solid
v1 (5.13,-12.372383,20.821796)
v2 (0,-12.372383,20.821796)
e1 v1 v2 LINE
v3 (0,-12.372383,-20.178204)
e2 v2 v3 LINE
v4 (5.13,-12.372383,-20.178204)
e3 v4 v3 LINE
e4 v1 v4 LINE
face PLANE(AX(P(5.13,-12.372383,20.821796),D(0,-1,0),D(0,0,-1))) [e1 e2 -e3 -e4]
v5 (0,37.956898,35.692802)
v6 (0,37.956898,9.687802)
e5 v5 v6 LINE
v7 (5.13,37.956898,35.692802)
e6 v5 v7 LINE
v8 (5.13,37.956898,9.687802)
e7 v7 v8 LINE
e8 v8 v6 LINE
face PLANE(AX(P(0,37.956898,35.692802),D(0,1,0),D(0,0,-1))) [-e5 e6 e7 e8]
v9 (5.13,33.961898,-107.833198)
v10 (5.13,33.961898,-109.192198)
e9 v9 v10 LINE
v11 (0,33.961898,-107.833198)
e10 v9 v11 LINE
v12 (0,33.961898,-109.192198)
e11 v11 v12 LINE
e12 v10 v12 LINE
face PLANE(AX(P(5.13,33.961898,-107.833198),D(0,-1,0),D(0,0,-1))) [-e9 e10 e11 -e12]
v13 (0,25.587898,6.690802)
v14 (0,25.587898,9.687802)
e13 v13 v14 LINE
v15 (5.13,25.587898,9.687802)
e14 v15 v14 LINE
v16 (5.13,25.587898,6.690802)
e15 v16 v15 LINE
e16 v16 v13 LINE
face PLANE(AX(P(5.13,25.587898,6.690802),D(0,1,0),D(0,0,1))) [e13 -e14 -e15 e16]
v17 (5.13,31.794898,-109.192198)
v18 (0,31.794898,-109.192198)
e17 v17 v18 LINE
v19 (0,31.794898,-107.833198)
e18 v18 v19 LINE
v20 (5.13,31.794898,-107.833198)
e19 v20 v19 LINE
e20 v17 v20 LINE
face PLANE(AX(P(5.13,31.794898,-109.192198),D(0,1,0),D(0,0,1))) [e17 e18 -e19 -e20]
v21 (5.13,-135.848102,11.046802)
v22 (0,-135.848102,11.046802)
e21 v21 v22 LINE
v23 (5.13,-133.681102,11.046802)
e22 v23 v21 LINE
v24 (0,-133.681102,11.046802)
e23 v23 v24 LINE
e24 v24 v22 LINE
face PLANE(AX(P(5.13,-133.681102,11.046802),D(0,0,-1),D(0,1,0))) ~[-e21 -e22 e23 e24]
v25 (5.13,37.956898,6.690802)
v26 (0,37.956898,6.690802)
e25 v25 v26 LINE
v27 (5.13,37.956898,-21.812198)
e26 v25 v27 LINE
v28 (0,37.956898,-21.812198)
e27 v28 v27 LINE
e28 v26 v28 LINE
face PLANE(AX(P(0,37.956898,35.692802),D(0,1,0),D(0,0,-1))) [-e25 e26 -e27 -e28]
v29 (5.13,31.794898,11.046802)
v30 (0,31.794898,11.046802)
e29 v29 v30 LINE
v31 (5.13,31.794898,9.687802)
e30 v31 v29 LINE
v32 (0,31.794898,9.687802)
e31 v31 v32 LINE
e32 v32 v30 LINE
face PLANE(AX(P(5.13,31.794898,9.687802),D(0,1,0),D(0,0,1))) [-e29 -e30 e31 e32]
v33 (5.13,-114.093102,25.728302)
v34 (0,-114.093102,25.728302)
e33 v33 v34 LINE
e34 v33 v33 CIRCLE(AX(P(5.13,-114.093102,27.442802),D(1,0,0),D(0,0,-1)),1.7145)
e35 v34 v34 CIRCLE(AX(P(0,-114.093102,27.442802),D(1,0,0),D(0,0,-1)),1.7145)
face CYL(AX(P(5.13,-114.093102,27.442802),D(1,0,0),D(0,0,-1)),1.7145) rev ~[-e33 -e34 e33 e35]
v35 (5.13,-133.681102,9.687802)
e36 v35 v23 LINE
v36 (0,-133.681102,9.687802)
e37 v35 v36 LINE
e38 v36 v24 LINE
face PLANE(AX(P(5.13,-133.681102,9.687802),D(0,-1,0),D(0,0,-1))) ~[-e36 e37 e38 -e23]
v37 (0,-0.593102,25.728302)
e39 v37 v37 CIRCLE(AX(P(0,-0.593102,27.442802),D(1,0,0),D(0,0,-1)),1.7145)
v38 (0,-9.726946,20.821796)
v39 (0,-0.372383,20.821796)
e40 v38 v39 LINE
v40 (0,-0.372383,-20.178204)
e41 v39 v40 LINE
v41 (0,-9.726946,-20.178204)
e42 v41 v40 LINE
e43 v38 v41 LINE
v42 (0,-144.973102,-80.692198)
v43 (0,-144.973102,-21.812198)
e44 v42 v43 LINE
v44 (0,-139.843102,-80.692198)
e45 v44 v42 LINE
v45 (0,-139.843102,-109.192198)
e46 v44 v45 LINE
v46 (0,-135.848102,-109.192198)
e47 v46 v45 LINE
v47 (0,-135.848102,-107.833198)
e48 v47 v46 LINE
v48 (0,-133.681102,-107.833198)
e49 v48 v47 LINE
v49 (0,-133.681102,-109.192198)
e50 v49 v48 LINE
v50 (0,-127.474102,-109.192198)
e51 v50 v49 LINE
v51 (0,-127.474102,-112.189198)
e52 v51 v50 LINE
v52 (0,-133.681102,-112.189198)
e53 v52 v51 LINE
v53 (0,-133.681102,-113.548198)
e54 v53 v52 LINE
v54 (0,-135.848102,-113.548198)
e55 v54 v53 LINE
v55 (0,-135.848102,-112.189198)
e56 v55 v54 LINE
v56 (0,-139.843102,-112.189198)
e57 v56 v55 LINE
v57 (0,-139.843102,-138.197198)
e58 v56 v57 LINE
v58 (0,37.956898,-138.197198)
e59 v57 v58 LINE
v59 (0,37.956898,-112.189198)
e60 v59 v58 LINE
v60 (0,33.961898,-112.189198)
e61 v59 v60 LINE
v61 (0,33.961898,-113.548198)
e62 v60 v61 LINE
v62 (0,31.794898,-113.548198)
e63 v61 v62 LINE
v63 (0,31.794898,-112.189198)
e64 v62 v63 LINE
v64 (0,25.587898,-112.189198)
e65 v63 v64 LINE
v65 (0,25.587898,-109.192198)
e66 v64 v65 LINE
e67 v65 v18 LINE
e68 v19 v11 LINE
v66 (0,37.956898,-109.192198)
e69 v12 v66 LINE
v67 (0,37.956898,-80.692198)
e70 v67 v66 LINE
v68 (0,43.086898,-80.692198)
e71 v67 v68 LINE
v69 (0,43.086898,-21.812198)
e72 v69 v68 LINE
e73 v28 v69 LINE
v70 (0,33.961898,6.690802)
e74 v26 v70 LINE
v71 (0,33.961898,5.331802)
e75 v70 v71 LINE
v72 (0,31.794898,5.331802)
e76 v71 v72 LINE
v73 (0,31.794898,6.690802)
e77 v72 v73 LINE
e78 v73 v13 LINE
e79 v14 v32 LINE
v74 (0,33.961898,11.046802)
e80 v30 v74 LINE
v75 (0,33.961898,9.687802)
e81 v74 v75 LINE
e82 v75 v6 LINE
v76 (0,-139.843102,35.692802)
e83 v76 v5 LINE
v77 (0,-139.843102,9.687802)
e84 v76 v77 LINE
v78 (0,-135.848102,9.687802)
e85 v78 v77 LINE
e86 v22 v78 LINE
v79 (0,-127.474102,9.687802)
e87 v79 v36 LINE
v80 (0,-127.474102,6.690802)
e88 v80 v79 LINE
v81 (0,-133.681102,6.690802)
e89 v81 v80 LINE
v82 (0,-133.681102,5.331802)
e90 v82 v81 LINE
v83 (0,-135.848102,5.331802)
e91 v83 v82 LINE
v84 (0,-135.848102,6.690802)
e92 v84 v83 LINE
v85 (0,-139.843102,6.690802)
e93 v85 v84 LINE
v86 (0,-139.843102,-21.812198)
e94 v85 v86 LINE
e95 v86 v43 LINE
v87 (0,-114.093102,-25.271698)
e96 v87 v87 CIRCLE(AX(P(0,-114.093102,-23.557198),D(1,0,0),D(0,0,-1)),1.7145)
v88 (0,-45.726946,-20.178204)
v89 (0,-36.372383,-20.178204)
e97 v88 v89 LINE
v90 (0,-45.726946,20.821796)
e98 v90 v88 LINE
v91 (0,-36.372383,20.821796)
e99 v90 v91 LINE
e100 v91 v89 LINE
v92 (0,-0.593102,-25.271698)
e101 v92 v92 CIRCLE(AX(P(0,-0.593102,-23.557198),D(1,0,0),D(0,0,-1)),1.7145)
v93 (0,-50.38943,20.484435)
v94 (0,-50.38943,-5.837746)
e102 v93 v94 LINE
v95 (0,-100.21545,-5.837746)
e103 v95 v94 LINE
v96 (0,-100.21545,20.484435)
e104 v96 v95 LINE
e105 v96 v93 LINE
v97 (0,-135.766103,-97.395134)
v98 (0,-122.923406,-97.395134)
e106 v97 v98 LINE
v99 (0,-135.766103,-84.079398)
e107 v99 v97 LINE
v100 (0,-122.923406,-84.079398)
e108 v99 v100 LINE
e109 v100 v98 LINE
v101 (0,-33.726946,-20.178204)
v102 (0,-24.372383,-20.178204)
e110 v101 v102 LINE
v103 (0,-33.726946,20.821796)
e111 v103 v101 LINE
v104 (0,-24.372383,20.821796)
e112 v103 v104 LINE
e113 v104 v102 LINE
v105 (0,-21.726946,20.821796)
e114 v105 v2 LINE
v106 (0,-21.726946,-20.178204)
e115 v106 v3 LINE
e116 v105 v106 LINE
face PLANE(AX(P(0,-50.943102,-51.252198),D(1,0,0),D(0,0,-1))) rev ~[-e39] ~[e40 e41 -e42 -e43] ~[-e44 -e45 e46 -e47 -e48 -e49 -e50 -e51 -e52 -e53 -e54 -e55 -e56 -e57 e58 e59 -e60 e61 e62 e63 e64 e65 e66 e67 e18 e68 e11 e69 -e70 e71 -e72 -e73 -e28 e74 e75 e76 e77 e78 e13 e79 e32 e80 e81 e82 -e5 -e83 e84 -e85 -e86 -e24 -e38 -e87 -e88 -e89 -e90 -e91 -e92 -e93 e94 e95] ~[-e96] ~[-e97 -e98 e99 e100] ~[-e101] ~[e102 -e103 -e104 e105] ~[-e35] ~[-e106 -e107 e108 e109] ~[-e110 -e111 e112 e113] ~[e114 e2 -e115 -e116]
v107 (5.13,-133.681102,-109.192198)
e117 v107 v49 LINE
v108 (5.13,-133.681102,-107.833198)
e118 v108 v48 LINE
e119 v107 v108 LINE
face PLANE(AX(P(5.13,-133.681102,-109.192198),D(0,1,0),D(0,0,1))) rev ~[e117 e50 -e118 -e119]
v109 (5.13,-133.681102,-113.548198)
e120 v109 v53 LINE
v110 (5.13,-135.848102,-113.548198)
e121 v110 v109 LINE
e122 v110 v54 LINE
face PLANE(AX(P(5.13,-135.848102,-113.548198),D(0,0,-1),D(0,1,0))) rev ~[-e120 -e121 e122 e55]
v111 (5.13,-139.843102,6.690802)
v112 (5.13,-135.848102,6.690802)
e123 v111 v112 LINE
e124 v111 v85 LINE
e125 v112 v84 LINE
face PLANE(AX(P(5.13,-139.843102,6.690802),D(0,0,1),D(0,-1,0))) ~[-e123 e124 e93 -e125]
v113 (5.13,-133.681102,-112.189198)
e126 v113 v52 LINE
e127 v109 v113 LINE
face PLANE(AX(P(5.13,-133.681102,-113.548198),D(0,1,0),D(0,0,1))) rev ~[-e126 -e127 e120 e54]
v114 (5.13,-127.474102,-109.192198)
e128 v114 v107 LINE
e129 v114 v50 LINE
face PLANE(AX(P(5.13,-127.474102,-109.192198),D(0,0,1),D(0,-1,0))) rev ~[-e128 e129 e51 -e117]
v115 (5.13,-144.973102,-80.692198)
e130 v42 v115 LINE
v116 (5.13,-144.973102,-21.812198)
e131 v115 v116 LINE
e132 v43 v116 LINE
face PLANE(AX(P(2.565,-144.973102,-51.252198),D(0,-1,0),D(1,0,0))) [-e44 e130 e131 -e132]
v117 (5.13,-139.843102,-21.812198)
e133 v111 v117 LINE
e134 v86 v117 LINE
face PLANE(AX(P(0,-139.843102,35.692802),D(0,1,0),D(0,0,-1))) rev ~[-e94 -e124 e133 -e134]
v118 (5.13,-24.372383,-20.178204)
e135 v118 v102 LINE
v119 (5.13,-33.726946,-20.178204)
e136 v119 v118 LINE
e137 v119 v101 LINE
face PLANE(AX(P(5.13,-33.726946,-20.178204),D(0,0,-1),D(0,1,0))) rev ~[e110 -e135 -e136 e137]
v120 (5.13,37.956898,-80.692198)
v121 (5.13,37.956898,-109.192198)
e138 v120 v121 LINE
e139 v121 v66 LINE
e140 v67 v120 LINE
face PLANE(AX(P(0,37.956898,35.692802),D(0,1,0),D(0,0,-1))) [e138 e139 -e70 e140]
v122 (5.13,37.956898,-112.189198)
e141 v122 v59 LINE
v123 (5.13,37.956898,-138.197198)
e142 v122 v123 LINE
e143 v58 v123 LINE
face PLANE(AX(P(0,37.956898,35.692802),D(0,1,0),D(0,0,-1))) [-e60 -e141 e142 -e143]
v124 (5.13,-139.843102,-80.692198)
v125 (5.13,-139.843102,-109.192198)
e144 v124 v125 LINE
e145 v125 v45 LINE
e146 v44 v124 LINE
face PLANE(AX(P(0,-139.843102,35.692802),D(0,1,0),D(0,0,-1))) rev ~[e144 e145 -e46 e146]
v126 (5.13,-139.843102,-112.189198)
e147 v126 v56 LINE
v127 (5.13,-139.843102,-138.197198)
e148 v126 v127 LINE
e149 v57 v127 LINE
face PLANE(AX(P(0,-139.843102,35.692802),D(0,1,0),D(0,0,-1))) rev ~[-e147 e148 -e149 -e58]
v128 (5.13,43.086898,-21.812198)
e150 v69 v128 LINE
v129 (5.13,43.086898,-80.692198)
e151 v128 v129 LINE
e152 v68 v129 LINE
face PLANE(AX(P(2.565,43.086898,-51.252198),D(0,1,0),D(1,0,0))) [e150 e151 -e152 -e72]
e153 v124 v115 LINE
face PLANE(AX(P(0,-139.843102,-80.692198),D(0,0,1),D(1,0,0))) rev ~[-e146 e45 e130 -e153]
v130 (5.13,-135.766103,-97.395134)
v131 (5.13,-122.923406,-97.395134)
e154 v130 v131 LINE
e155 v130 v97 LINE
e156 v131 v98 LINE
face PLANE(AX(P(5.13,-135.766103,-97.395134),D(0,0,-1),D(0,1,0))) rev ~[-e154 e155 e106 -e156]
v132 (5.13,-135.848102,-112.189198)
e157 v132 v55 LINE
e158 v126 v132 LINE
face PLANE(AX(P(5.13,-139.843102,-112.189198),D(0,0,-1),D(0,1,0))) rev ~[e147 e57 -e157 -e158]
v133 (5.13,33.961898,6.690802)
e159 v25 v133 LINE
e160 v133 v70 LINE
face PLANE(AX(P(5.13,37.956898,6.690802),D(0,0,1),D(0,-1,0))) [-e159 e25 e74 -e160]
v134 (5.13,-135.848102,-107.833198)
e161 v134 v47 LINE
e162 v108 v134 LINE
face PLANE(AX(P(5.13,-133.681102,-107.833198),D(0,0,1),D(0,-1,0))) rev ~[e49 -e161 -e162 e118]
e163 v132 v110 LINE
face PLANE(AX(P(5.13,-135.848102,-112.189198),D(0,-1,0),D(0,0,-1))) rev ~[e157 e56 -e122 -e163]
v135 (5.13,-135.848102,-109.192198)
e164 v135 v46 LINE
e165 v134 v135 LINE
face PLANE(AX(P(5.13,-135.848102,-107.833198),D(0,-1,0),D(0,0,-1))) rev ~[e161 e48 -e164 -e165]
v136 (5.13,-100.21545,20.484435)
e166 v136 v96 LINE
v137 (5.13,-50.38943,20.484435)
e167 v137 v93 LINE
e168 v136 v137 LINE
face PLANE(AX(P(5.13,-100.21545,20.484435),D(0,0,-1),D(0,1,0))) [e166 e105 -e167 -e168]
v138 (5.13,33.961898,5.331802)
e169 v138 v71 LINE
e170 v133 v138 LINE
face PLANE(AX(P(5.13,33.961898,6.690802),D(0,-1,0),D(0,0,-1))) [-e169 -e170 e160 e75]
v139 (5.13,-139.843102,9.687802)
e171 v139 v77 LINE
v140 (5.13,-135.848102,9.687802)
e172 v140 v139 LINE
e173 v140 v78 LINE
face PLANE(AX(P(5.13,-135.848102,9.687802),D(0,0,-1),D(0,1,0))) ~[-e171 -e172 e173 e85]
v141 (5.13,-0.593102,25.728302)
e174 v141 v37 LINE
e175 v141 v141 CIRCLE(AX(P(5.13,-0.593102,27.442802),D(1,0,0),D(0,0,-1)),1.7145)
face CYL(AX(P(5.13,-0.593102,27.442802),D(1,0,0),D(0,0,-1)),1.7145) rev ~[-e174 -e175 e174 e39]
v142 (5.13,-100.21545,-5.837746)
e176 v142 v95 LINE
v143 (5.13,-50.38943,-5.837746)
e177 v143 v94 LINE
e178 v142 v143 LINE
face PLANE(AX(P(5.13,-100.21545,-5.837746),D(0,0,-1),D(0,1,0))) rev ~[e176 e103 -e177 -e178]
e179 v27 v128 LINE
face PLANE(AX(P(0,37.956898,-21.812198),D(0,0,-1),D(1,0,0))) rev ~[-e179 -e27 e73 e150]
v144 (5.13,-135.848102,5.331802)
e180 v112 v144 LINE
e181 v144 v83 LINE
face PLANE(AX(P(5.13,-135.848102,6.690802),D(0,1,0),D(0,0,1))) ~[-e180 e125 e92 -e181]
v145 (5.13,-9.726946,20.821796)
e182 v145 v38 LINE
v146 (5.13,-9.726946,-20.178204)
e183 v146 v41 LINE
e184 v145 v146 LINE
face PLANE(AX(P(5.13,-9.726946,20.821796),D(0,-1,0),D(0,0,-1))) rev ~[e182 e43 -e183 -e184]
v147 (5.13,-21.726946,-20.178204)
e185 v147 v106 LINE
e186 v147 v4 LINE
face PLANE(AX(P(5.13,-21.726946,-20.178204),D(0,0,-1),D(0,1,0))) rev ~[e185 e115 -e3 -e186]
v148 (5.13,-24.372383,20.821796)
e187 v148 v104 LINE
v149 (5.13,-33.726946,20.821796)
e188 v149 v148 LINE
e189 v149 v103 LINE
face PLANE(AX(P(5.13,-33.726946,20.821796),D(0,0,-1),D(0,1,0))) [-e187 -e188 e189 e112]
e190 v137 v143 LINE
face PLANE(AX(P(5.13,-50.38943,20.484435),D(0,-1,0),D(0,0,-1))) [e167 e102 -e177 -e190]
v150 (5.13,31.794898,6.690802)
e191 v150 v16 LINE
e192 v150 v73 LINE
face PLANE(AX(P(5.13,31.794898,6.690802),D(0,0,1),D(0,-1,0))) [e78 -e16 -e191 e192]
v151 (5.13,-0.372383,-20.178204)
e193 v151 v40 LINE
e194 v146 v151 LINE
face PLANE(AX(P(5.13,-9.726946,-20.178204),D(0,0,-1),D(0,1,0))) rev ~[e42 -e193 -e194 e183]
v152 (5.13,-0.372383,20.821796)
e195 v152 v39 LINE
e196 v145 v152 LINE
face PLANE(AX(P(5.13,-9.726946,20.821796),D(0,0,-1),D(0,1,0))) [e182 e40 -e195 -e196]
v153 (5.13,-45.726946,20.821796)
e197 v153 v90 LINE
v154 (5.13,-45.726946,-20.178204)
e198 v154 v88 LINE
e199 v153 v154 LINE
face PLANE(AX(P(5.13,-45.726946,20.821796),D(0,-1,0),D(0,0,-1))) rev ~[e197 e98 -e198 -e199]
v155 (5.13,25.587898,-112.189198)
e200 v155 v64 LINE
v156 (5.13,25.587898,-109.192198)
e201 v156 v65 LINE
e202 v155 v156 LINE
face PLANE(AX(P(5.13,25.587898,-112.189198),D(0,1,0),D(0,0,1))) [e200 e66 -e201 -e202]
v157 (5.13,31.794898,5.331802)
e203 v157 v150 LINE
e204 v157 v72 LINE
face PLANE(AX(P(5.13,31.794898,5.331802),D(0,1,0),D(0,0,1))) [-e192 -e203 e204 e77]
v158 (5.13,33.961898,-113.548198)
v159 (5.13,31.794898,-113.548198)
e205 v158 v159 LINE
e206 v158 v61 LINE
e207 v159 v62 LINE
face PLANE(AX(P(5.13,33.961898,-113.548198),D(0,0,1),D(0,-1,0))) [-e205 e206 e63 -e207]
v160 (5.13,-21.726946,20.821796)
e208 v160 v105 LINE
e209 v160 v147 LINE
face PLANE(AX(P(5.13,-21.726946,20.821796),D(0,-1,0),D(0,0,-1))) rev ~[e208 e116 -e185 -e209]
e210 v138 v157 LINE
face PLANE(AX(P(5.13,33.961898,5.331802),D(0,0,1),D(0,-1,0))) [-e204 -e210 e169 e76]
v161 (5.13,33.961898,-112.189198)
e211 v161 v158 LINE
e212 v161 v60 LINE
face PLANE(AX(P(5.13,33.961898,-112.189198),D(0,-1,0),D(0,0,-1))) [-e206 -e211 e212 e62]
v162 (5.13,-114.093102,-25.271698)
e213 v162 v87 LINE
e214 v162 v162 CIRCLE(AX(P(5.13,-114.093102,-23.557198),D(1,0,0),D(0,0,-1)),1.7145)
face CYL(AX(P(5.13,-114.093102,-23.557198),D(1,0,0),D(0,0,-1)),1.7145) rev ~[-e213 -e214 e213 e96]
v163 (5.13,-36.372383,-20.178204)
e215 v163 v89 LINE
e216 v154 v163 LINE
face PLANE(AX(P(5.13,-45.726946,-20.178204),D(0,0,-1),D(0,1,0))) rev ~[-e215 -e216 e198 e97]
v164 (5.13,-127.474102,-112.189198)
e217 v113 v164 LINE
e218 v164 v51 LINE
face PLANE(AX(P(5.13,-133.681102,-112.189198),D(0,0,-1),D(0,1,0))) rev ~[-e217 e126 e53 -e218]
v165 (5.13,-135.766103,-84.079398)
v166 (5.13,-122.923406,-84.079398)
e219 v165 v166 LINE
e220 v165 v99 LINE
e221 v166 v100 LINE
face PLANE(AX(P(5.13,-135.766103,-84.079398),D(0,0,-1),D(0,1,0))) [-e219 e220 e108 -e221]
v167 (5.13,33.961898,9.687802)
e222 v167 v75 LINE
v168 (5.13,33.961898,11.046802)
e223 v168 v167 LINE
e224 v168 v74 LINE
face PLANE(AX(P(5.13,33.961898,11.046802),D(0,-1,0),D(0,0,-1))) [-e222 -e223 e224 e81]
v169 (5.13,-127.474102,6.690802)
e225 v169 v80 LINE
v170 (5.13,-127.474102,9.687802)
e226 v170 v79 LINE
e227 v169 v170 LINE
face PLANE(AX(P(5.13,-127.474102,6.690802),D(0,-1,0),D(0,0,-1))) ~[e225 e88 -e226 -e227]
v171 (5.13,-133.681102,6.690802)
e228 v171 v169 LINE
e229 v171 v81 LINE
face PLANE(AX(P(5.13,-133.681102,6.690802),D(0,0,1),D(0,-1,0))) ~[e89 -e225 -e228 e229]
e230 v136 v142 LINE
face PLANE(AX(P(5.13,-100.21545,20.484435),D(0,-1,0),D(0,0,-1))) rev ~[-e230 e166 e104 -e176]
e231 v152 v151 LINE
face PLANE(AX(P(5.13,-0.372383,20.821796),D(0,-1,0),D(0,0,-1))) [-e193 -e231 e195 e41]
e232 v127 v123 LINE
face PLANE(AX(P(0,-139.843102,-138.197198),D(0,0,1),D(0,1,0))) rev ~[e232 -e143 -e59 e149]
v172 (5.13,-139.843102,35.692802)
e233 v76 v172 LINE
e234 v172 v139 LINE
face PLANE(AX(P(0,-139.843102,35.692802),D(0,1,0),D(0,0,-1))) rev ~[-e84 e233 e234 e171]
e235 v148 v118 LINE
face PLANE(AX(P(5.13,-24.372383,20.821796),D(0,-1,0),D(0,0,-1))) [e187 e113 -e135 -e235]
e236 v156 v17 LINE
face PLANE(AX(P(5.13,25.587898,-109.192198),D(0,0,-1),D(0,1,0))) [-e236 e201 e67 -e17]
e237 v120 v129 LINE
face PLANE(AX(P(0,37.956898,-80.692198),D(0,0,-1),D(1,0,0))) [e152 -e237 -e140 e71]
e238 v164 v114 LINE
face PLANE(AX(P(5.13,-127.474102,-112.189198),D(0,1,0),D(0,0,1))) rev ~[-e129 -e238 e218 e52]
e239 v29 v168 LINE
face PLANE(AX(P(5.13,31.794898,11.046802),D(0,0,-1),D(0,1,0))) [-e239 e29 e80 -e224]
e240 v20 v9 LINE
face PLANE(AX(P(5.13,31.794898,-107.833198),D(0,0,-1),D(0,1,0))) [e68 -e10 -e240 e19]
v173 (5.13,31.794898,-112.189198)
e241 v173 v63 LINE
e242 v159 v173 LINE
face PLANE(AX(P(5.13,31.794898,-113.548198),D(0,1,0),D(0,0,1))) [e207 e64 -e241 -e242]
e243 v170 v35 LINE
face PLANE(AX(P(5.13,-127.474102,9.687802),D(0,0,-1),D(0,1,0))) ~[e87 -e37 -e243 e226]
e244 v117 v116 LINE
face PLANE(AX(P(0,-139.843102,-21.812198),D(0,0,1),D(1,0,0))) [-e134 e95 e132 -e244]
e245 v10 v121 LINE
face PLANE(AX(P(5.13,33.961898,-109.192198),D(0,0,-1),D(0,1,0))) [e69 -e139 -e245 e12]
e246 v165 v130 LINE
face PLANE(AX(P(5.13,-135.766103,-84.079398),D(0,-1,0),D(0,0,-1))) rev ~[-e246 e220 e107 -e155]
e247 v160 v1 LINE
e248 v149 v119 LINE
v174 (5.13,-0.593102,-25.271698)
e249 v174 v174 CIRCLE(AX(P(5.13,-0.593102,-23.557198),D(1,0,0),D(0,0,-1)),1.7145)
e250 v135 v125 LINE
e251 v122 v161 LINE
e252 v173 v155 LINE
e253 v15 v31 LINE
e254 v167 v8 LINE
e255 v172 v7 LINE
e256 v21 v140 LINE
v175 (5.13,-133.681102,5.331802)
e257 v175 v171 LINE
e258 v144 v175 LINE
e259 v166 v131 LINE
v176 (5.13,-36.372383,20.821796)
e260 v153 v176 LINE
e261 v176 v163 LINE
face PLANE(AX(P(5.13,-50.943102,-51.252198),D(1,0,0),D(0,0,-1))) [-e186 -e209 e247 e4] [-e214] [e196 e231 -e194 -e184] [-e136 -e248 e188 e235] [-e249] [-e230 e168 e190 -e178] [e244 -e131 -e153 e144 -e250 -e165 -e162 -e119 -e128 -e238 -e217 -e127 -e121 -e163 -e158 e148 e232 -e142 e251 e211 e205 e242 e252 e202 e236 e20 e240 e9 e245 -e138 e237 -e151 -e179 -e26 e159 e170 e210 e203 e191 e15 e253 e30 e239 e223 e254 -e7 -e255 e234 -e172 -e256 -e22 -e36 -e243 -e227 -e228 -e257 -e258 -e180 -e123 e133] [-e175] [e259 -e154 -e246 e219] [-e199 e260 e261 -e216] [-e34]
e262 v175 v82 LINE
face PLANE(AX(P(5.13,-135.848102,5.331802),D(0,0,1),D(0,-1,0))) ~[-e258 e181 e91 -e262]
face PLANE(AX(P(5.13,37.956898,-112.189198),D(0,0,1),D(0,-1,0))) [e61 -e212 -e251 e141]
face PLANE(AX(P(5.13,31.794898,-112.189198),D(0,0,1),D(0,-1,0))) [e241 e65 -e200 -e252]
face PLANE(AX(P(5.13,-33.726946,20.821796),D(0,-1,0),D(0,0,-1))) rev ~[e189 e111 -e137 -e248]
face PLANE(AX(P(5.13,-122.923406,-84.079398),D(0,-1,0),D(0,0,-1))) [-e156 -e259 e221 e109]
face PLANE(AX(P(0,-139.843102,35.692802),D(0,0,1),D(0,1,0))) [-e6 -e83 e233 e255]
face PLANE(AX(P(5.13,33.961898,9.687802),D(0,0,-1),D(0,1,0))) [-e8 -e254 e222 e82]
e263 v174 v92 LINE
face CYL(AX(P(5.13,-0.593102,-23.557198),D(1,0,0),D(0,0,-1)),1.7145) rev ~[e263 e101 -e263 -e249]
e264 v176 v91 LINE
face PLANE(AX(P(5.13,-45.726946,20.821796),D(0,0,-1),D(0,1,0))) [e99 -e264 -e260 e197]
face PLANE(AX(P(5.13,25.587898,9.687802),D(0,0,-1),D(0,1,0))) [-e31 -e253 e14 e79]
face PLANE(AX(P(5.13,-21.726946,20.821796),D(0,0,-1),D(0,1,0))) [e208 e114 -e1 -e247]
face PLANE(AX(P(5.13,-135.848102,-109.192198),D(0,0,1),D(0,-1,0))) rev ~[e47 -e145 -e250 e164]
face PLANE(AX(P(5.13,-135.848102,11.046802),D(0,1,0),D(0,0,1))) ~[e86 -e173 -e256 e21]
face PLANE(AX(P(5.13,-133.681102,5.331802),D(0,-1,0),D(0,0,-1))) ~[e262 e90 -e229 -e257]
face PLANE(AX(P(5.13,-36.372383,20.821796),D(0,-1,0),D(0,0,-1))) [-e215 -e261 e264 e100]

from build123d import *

# Parameters (mm, degrees)
SKETCH1_W                  = 173.89
SKETCH1_H                  = 177.8
BOSS_EXTRUDE1_DEPTH        = 5.13
SKETCH6_W                  = 5.13
SKETCH6_H                  = 58.88
TEETH_DEPTH                = 5.13
T_SLOT_DEPTH               = 5.13
T_SLOT_PATTERN_COUNT       = 2
T_SLOT_PATTERN_PITCH       = 118.88
T_SLOT_BOTTOM_COPY_1_DEPTH = 5.13
SKETCH3_W                  = 26.322180797
SKETCH3_H                  = 49.826019937
POWER_PORT_DEPTH           = 5.13
POWER_SUPPLY_SCREWS_REACH  = 198.675
SKETCH7_R                  = 1.7145
SKETCH4_W                  = 41
SKETCH4_H                  = 9.354563129
FAN_VENT_DEPTH             = 5.13
LPATTERN3_COUNT            = 4
LPATTERN3_PITCH            = 12
SKETCH5_W                  = 13.315736025
SKETCH5_H                  = 12.842697729
USB_PORT_DEPTH             = 5.13
SKETCH11_W                 = 5.13
SKETCH11_H                 = 58.88
BOSS_EXTRUDE2_DEPTH        = 5.13
LPATTERN4_COUNT            = 2
LPATTERN4_PITCH            = 51
LPATTERN4_COUNT_DIR2       = 2
LPATTERN4_PITCH_DIR2       = 113.5


with BuildPart() as part:
    # Sketch1 → Boss-Extrude1 (new body)
    with BuildSketch(Plane(origin=(0, 0, 0), x_dir=(0, 0, -1), z_dir=(1, 0, 0))):
        with Locations((51.252197546, -50.943101868)):
            Rectangle(SKETCH1_W, SKETCH1_H)
    extrude(amount=BOSS_EXTRUDE1_DEPTH)

    # Sketch6 → teeth (add)
    with BuildSketch(Plane(origin=(0, 37.956898132, 0), x_dir=(1, 0, 0), z_dir=(0, 1, 0))):
        with Locations((2.565, 51.252197546)):
            Rectangle(SKETCH6_W, SKETCH6_H)
    extrude(amount=TEETH_DEPTH)

    # Sketch2 → t-slot (cut)
    with BuildSketch(Plane(origin=(5.13, 0, 0), x_dir=(0, 0, -1), z_dir=(1, 0, 0))):
        Polygon((-9.687802454, 37.956898132), (-6.690802454, 37.956898132), (-6.690802454, 33.961898132), (-5.331802454, 33.961898132), (-5.331802454, 31.794898132), (-6.690802454, 31.794898132), (-6.690802454, 25.587898132), (-9.687802454, 25.587898132), (-9.687802454, 31.794898132), (-11.046802454, 31.794898132), (-11.046802454, 33.961898132), (-9.687802454, 33.961898132), align=None)
    t_slot = extrude(amount=-T_SLOT_DEPTH, mode=Mode.SUBTRACT)

    # t-slot pattern: t-slot ×2
    with Locations(*[(0, 0, -i * T_SLOT_PATTERN_PITCH) for i in range(1, T_SLOT_PATTERN_COUNT)]):
        add(t_slot, mode=Mode.SUBTRACT)

    # t-slot bottom: t-slot across plane
    add(t_slot.mirror(Plane(origin=(0, -50.943101868, 0), x_dir=(0, 0, 1), z_dir=(0, -1, 0))), mode=Mode.SUBTRACT)

    # t-slot bottom copy 1 sketch → t-slot bottom copy 1 (cut)
    with BuildSketch(Plane(origin=(5.13, -101.886203737, -118.88), x_dir=(0, 0, -1), z_dir=(1, 0, 0))):
        Polygon((-9.687802454, -37.956898132), (-6.690802454, -37.956898132), (-6.690802454, -33.961898132), (-5.331802454, -33.961898132), (-5.331802454, -31.794898132), (-6.690802454, -31.794898132), (-6.690802454, -25.587898132), (-9.687802454, -25.587898132), (-9.687802454, -31.794898132), (-11.046802454, -31.794898132), (-11.046802454, -33.961898132), (-9.687802454, -33.961898132), align=None)
    extrude(amount=-T_SLOT_BOTTOM_COPY_1_DEPTH, mode=Mode.SUBTRACT)

    # Sketch3 → power port (cut)
    with BuildSketch(Plane(origin=(5.13, 0, 0), x_dir=(0, 0, -1), z_dir=(1, 0, 0))):
        with Locations((-7.323344752, -75.302440375)):
            Rectangle(SKETCH3_W, SKETCH3_H)
    extrude(amount=-POWER_PORT_DEPTH, mode=Mode.SUBTRACT)

    # Sketch7 → Power supply screws (cut, up to next)
    with BuildSketch(Plane(origin=(5.13, 0, 0), x_dir=(0, 0, -1), z_dir=(1, 0, 0)), mode=Mode.PRIVATE) as power_supply_screws_sk1:
        with Locations((-27.442802454, -0.593101868)):
            Circle(SKETCH7_R)
    power_supply_screws_tool1 = extrude(power_supply_screws_sk1.sketch, amount=-POWER_SUPPLY_SCREWS_REACH, mode=Mode.PRIVATE) & part.part
    power_supply_screws = power_supply_screws_tool1.solids().sort_by_distance((5.13, -0.593102, 27.442802))[0]
    add(power_supply_screws, mode=Mode.SUBTRACT)

    # Sketch4 → fan vent (cut)
    with BuildSketch(Plane(origin=(5.13, 0, 0), x_dir=(0, 0, -1), z_dir=(1, 0, 0))):
        with Locations((-0.321795885, -5.04966493)):
            Rectangle(SKETCH4_W, SKETCH4_H)
    fan_vent = extrude(amount=-FAN_VENT_DEPTH, mode=Mode.SUBTRACT)

    # LPattern3: fan vent ×4
    with Locations(*[(0, -i * LPATTERN3_PITCH, 0) for i in range(1, LPATTERN3_COUNT)]):
        add(fan_vent, mode=Mode.SUBTRACT)

    # Sketch5 → USB port (cut)
    with BuildSketch(Plane(origin=(5.13, 0, 0), x_dir=(0, 0, -1), z_dir=(1, 0, 0))):
        with Locations((90.737265655, -129.344754623)):
            Rectangle(SKETCH5_W, SKETCH5_H)
    extrude(amount=-USB_PORT_DEPTH, mode=Mode.SUBTRACT)

    # Sketch11 → Boss-Extrude2 (add)
    with BuildSketch(Plane.XZ.offset(139.843101868)):
        with Locations((2.565, -51.252197546)):
            Rectangle(SKETCH11_W, SKETCH11_H)
    extrude(amount=BOSS_EXTRUDE2_DEPTH)

    # LPattern4: Power supply screws 2 × 2
    with Locations(*[(0, -j * LPATTERN4_PITCH_DIR2, -i * LPATTERN4_PITCH) for i in range(LPATTERN4_COUNT) for j in range(LPATTERN4_COUNT_DIR2) if (i, j) != (0, 0)]):
        add(power_supply_screws, mode=Mode.SUBTRACT)


solid = part.part
